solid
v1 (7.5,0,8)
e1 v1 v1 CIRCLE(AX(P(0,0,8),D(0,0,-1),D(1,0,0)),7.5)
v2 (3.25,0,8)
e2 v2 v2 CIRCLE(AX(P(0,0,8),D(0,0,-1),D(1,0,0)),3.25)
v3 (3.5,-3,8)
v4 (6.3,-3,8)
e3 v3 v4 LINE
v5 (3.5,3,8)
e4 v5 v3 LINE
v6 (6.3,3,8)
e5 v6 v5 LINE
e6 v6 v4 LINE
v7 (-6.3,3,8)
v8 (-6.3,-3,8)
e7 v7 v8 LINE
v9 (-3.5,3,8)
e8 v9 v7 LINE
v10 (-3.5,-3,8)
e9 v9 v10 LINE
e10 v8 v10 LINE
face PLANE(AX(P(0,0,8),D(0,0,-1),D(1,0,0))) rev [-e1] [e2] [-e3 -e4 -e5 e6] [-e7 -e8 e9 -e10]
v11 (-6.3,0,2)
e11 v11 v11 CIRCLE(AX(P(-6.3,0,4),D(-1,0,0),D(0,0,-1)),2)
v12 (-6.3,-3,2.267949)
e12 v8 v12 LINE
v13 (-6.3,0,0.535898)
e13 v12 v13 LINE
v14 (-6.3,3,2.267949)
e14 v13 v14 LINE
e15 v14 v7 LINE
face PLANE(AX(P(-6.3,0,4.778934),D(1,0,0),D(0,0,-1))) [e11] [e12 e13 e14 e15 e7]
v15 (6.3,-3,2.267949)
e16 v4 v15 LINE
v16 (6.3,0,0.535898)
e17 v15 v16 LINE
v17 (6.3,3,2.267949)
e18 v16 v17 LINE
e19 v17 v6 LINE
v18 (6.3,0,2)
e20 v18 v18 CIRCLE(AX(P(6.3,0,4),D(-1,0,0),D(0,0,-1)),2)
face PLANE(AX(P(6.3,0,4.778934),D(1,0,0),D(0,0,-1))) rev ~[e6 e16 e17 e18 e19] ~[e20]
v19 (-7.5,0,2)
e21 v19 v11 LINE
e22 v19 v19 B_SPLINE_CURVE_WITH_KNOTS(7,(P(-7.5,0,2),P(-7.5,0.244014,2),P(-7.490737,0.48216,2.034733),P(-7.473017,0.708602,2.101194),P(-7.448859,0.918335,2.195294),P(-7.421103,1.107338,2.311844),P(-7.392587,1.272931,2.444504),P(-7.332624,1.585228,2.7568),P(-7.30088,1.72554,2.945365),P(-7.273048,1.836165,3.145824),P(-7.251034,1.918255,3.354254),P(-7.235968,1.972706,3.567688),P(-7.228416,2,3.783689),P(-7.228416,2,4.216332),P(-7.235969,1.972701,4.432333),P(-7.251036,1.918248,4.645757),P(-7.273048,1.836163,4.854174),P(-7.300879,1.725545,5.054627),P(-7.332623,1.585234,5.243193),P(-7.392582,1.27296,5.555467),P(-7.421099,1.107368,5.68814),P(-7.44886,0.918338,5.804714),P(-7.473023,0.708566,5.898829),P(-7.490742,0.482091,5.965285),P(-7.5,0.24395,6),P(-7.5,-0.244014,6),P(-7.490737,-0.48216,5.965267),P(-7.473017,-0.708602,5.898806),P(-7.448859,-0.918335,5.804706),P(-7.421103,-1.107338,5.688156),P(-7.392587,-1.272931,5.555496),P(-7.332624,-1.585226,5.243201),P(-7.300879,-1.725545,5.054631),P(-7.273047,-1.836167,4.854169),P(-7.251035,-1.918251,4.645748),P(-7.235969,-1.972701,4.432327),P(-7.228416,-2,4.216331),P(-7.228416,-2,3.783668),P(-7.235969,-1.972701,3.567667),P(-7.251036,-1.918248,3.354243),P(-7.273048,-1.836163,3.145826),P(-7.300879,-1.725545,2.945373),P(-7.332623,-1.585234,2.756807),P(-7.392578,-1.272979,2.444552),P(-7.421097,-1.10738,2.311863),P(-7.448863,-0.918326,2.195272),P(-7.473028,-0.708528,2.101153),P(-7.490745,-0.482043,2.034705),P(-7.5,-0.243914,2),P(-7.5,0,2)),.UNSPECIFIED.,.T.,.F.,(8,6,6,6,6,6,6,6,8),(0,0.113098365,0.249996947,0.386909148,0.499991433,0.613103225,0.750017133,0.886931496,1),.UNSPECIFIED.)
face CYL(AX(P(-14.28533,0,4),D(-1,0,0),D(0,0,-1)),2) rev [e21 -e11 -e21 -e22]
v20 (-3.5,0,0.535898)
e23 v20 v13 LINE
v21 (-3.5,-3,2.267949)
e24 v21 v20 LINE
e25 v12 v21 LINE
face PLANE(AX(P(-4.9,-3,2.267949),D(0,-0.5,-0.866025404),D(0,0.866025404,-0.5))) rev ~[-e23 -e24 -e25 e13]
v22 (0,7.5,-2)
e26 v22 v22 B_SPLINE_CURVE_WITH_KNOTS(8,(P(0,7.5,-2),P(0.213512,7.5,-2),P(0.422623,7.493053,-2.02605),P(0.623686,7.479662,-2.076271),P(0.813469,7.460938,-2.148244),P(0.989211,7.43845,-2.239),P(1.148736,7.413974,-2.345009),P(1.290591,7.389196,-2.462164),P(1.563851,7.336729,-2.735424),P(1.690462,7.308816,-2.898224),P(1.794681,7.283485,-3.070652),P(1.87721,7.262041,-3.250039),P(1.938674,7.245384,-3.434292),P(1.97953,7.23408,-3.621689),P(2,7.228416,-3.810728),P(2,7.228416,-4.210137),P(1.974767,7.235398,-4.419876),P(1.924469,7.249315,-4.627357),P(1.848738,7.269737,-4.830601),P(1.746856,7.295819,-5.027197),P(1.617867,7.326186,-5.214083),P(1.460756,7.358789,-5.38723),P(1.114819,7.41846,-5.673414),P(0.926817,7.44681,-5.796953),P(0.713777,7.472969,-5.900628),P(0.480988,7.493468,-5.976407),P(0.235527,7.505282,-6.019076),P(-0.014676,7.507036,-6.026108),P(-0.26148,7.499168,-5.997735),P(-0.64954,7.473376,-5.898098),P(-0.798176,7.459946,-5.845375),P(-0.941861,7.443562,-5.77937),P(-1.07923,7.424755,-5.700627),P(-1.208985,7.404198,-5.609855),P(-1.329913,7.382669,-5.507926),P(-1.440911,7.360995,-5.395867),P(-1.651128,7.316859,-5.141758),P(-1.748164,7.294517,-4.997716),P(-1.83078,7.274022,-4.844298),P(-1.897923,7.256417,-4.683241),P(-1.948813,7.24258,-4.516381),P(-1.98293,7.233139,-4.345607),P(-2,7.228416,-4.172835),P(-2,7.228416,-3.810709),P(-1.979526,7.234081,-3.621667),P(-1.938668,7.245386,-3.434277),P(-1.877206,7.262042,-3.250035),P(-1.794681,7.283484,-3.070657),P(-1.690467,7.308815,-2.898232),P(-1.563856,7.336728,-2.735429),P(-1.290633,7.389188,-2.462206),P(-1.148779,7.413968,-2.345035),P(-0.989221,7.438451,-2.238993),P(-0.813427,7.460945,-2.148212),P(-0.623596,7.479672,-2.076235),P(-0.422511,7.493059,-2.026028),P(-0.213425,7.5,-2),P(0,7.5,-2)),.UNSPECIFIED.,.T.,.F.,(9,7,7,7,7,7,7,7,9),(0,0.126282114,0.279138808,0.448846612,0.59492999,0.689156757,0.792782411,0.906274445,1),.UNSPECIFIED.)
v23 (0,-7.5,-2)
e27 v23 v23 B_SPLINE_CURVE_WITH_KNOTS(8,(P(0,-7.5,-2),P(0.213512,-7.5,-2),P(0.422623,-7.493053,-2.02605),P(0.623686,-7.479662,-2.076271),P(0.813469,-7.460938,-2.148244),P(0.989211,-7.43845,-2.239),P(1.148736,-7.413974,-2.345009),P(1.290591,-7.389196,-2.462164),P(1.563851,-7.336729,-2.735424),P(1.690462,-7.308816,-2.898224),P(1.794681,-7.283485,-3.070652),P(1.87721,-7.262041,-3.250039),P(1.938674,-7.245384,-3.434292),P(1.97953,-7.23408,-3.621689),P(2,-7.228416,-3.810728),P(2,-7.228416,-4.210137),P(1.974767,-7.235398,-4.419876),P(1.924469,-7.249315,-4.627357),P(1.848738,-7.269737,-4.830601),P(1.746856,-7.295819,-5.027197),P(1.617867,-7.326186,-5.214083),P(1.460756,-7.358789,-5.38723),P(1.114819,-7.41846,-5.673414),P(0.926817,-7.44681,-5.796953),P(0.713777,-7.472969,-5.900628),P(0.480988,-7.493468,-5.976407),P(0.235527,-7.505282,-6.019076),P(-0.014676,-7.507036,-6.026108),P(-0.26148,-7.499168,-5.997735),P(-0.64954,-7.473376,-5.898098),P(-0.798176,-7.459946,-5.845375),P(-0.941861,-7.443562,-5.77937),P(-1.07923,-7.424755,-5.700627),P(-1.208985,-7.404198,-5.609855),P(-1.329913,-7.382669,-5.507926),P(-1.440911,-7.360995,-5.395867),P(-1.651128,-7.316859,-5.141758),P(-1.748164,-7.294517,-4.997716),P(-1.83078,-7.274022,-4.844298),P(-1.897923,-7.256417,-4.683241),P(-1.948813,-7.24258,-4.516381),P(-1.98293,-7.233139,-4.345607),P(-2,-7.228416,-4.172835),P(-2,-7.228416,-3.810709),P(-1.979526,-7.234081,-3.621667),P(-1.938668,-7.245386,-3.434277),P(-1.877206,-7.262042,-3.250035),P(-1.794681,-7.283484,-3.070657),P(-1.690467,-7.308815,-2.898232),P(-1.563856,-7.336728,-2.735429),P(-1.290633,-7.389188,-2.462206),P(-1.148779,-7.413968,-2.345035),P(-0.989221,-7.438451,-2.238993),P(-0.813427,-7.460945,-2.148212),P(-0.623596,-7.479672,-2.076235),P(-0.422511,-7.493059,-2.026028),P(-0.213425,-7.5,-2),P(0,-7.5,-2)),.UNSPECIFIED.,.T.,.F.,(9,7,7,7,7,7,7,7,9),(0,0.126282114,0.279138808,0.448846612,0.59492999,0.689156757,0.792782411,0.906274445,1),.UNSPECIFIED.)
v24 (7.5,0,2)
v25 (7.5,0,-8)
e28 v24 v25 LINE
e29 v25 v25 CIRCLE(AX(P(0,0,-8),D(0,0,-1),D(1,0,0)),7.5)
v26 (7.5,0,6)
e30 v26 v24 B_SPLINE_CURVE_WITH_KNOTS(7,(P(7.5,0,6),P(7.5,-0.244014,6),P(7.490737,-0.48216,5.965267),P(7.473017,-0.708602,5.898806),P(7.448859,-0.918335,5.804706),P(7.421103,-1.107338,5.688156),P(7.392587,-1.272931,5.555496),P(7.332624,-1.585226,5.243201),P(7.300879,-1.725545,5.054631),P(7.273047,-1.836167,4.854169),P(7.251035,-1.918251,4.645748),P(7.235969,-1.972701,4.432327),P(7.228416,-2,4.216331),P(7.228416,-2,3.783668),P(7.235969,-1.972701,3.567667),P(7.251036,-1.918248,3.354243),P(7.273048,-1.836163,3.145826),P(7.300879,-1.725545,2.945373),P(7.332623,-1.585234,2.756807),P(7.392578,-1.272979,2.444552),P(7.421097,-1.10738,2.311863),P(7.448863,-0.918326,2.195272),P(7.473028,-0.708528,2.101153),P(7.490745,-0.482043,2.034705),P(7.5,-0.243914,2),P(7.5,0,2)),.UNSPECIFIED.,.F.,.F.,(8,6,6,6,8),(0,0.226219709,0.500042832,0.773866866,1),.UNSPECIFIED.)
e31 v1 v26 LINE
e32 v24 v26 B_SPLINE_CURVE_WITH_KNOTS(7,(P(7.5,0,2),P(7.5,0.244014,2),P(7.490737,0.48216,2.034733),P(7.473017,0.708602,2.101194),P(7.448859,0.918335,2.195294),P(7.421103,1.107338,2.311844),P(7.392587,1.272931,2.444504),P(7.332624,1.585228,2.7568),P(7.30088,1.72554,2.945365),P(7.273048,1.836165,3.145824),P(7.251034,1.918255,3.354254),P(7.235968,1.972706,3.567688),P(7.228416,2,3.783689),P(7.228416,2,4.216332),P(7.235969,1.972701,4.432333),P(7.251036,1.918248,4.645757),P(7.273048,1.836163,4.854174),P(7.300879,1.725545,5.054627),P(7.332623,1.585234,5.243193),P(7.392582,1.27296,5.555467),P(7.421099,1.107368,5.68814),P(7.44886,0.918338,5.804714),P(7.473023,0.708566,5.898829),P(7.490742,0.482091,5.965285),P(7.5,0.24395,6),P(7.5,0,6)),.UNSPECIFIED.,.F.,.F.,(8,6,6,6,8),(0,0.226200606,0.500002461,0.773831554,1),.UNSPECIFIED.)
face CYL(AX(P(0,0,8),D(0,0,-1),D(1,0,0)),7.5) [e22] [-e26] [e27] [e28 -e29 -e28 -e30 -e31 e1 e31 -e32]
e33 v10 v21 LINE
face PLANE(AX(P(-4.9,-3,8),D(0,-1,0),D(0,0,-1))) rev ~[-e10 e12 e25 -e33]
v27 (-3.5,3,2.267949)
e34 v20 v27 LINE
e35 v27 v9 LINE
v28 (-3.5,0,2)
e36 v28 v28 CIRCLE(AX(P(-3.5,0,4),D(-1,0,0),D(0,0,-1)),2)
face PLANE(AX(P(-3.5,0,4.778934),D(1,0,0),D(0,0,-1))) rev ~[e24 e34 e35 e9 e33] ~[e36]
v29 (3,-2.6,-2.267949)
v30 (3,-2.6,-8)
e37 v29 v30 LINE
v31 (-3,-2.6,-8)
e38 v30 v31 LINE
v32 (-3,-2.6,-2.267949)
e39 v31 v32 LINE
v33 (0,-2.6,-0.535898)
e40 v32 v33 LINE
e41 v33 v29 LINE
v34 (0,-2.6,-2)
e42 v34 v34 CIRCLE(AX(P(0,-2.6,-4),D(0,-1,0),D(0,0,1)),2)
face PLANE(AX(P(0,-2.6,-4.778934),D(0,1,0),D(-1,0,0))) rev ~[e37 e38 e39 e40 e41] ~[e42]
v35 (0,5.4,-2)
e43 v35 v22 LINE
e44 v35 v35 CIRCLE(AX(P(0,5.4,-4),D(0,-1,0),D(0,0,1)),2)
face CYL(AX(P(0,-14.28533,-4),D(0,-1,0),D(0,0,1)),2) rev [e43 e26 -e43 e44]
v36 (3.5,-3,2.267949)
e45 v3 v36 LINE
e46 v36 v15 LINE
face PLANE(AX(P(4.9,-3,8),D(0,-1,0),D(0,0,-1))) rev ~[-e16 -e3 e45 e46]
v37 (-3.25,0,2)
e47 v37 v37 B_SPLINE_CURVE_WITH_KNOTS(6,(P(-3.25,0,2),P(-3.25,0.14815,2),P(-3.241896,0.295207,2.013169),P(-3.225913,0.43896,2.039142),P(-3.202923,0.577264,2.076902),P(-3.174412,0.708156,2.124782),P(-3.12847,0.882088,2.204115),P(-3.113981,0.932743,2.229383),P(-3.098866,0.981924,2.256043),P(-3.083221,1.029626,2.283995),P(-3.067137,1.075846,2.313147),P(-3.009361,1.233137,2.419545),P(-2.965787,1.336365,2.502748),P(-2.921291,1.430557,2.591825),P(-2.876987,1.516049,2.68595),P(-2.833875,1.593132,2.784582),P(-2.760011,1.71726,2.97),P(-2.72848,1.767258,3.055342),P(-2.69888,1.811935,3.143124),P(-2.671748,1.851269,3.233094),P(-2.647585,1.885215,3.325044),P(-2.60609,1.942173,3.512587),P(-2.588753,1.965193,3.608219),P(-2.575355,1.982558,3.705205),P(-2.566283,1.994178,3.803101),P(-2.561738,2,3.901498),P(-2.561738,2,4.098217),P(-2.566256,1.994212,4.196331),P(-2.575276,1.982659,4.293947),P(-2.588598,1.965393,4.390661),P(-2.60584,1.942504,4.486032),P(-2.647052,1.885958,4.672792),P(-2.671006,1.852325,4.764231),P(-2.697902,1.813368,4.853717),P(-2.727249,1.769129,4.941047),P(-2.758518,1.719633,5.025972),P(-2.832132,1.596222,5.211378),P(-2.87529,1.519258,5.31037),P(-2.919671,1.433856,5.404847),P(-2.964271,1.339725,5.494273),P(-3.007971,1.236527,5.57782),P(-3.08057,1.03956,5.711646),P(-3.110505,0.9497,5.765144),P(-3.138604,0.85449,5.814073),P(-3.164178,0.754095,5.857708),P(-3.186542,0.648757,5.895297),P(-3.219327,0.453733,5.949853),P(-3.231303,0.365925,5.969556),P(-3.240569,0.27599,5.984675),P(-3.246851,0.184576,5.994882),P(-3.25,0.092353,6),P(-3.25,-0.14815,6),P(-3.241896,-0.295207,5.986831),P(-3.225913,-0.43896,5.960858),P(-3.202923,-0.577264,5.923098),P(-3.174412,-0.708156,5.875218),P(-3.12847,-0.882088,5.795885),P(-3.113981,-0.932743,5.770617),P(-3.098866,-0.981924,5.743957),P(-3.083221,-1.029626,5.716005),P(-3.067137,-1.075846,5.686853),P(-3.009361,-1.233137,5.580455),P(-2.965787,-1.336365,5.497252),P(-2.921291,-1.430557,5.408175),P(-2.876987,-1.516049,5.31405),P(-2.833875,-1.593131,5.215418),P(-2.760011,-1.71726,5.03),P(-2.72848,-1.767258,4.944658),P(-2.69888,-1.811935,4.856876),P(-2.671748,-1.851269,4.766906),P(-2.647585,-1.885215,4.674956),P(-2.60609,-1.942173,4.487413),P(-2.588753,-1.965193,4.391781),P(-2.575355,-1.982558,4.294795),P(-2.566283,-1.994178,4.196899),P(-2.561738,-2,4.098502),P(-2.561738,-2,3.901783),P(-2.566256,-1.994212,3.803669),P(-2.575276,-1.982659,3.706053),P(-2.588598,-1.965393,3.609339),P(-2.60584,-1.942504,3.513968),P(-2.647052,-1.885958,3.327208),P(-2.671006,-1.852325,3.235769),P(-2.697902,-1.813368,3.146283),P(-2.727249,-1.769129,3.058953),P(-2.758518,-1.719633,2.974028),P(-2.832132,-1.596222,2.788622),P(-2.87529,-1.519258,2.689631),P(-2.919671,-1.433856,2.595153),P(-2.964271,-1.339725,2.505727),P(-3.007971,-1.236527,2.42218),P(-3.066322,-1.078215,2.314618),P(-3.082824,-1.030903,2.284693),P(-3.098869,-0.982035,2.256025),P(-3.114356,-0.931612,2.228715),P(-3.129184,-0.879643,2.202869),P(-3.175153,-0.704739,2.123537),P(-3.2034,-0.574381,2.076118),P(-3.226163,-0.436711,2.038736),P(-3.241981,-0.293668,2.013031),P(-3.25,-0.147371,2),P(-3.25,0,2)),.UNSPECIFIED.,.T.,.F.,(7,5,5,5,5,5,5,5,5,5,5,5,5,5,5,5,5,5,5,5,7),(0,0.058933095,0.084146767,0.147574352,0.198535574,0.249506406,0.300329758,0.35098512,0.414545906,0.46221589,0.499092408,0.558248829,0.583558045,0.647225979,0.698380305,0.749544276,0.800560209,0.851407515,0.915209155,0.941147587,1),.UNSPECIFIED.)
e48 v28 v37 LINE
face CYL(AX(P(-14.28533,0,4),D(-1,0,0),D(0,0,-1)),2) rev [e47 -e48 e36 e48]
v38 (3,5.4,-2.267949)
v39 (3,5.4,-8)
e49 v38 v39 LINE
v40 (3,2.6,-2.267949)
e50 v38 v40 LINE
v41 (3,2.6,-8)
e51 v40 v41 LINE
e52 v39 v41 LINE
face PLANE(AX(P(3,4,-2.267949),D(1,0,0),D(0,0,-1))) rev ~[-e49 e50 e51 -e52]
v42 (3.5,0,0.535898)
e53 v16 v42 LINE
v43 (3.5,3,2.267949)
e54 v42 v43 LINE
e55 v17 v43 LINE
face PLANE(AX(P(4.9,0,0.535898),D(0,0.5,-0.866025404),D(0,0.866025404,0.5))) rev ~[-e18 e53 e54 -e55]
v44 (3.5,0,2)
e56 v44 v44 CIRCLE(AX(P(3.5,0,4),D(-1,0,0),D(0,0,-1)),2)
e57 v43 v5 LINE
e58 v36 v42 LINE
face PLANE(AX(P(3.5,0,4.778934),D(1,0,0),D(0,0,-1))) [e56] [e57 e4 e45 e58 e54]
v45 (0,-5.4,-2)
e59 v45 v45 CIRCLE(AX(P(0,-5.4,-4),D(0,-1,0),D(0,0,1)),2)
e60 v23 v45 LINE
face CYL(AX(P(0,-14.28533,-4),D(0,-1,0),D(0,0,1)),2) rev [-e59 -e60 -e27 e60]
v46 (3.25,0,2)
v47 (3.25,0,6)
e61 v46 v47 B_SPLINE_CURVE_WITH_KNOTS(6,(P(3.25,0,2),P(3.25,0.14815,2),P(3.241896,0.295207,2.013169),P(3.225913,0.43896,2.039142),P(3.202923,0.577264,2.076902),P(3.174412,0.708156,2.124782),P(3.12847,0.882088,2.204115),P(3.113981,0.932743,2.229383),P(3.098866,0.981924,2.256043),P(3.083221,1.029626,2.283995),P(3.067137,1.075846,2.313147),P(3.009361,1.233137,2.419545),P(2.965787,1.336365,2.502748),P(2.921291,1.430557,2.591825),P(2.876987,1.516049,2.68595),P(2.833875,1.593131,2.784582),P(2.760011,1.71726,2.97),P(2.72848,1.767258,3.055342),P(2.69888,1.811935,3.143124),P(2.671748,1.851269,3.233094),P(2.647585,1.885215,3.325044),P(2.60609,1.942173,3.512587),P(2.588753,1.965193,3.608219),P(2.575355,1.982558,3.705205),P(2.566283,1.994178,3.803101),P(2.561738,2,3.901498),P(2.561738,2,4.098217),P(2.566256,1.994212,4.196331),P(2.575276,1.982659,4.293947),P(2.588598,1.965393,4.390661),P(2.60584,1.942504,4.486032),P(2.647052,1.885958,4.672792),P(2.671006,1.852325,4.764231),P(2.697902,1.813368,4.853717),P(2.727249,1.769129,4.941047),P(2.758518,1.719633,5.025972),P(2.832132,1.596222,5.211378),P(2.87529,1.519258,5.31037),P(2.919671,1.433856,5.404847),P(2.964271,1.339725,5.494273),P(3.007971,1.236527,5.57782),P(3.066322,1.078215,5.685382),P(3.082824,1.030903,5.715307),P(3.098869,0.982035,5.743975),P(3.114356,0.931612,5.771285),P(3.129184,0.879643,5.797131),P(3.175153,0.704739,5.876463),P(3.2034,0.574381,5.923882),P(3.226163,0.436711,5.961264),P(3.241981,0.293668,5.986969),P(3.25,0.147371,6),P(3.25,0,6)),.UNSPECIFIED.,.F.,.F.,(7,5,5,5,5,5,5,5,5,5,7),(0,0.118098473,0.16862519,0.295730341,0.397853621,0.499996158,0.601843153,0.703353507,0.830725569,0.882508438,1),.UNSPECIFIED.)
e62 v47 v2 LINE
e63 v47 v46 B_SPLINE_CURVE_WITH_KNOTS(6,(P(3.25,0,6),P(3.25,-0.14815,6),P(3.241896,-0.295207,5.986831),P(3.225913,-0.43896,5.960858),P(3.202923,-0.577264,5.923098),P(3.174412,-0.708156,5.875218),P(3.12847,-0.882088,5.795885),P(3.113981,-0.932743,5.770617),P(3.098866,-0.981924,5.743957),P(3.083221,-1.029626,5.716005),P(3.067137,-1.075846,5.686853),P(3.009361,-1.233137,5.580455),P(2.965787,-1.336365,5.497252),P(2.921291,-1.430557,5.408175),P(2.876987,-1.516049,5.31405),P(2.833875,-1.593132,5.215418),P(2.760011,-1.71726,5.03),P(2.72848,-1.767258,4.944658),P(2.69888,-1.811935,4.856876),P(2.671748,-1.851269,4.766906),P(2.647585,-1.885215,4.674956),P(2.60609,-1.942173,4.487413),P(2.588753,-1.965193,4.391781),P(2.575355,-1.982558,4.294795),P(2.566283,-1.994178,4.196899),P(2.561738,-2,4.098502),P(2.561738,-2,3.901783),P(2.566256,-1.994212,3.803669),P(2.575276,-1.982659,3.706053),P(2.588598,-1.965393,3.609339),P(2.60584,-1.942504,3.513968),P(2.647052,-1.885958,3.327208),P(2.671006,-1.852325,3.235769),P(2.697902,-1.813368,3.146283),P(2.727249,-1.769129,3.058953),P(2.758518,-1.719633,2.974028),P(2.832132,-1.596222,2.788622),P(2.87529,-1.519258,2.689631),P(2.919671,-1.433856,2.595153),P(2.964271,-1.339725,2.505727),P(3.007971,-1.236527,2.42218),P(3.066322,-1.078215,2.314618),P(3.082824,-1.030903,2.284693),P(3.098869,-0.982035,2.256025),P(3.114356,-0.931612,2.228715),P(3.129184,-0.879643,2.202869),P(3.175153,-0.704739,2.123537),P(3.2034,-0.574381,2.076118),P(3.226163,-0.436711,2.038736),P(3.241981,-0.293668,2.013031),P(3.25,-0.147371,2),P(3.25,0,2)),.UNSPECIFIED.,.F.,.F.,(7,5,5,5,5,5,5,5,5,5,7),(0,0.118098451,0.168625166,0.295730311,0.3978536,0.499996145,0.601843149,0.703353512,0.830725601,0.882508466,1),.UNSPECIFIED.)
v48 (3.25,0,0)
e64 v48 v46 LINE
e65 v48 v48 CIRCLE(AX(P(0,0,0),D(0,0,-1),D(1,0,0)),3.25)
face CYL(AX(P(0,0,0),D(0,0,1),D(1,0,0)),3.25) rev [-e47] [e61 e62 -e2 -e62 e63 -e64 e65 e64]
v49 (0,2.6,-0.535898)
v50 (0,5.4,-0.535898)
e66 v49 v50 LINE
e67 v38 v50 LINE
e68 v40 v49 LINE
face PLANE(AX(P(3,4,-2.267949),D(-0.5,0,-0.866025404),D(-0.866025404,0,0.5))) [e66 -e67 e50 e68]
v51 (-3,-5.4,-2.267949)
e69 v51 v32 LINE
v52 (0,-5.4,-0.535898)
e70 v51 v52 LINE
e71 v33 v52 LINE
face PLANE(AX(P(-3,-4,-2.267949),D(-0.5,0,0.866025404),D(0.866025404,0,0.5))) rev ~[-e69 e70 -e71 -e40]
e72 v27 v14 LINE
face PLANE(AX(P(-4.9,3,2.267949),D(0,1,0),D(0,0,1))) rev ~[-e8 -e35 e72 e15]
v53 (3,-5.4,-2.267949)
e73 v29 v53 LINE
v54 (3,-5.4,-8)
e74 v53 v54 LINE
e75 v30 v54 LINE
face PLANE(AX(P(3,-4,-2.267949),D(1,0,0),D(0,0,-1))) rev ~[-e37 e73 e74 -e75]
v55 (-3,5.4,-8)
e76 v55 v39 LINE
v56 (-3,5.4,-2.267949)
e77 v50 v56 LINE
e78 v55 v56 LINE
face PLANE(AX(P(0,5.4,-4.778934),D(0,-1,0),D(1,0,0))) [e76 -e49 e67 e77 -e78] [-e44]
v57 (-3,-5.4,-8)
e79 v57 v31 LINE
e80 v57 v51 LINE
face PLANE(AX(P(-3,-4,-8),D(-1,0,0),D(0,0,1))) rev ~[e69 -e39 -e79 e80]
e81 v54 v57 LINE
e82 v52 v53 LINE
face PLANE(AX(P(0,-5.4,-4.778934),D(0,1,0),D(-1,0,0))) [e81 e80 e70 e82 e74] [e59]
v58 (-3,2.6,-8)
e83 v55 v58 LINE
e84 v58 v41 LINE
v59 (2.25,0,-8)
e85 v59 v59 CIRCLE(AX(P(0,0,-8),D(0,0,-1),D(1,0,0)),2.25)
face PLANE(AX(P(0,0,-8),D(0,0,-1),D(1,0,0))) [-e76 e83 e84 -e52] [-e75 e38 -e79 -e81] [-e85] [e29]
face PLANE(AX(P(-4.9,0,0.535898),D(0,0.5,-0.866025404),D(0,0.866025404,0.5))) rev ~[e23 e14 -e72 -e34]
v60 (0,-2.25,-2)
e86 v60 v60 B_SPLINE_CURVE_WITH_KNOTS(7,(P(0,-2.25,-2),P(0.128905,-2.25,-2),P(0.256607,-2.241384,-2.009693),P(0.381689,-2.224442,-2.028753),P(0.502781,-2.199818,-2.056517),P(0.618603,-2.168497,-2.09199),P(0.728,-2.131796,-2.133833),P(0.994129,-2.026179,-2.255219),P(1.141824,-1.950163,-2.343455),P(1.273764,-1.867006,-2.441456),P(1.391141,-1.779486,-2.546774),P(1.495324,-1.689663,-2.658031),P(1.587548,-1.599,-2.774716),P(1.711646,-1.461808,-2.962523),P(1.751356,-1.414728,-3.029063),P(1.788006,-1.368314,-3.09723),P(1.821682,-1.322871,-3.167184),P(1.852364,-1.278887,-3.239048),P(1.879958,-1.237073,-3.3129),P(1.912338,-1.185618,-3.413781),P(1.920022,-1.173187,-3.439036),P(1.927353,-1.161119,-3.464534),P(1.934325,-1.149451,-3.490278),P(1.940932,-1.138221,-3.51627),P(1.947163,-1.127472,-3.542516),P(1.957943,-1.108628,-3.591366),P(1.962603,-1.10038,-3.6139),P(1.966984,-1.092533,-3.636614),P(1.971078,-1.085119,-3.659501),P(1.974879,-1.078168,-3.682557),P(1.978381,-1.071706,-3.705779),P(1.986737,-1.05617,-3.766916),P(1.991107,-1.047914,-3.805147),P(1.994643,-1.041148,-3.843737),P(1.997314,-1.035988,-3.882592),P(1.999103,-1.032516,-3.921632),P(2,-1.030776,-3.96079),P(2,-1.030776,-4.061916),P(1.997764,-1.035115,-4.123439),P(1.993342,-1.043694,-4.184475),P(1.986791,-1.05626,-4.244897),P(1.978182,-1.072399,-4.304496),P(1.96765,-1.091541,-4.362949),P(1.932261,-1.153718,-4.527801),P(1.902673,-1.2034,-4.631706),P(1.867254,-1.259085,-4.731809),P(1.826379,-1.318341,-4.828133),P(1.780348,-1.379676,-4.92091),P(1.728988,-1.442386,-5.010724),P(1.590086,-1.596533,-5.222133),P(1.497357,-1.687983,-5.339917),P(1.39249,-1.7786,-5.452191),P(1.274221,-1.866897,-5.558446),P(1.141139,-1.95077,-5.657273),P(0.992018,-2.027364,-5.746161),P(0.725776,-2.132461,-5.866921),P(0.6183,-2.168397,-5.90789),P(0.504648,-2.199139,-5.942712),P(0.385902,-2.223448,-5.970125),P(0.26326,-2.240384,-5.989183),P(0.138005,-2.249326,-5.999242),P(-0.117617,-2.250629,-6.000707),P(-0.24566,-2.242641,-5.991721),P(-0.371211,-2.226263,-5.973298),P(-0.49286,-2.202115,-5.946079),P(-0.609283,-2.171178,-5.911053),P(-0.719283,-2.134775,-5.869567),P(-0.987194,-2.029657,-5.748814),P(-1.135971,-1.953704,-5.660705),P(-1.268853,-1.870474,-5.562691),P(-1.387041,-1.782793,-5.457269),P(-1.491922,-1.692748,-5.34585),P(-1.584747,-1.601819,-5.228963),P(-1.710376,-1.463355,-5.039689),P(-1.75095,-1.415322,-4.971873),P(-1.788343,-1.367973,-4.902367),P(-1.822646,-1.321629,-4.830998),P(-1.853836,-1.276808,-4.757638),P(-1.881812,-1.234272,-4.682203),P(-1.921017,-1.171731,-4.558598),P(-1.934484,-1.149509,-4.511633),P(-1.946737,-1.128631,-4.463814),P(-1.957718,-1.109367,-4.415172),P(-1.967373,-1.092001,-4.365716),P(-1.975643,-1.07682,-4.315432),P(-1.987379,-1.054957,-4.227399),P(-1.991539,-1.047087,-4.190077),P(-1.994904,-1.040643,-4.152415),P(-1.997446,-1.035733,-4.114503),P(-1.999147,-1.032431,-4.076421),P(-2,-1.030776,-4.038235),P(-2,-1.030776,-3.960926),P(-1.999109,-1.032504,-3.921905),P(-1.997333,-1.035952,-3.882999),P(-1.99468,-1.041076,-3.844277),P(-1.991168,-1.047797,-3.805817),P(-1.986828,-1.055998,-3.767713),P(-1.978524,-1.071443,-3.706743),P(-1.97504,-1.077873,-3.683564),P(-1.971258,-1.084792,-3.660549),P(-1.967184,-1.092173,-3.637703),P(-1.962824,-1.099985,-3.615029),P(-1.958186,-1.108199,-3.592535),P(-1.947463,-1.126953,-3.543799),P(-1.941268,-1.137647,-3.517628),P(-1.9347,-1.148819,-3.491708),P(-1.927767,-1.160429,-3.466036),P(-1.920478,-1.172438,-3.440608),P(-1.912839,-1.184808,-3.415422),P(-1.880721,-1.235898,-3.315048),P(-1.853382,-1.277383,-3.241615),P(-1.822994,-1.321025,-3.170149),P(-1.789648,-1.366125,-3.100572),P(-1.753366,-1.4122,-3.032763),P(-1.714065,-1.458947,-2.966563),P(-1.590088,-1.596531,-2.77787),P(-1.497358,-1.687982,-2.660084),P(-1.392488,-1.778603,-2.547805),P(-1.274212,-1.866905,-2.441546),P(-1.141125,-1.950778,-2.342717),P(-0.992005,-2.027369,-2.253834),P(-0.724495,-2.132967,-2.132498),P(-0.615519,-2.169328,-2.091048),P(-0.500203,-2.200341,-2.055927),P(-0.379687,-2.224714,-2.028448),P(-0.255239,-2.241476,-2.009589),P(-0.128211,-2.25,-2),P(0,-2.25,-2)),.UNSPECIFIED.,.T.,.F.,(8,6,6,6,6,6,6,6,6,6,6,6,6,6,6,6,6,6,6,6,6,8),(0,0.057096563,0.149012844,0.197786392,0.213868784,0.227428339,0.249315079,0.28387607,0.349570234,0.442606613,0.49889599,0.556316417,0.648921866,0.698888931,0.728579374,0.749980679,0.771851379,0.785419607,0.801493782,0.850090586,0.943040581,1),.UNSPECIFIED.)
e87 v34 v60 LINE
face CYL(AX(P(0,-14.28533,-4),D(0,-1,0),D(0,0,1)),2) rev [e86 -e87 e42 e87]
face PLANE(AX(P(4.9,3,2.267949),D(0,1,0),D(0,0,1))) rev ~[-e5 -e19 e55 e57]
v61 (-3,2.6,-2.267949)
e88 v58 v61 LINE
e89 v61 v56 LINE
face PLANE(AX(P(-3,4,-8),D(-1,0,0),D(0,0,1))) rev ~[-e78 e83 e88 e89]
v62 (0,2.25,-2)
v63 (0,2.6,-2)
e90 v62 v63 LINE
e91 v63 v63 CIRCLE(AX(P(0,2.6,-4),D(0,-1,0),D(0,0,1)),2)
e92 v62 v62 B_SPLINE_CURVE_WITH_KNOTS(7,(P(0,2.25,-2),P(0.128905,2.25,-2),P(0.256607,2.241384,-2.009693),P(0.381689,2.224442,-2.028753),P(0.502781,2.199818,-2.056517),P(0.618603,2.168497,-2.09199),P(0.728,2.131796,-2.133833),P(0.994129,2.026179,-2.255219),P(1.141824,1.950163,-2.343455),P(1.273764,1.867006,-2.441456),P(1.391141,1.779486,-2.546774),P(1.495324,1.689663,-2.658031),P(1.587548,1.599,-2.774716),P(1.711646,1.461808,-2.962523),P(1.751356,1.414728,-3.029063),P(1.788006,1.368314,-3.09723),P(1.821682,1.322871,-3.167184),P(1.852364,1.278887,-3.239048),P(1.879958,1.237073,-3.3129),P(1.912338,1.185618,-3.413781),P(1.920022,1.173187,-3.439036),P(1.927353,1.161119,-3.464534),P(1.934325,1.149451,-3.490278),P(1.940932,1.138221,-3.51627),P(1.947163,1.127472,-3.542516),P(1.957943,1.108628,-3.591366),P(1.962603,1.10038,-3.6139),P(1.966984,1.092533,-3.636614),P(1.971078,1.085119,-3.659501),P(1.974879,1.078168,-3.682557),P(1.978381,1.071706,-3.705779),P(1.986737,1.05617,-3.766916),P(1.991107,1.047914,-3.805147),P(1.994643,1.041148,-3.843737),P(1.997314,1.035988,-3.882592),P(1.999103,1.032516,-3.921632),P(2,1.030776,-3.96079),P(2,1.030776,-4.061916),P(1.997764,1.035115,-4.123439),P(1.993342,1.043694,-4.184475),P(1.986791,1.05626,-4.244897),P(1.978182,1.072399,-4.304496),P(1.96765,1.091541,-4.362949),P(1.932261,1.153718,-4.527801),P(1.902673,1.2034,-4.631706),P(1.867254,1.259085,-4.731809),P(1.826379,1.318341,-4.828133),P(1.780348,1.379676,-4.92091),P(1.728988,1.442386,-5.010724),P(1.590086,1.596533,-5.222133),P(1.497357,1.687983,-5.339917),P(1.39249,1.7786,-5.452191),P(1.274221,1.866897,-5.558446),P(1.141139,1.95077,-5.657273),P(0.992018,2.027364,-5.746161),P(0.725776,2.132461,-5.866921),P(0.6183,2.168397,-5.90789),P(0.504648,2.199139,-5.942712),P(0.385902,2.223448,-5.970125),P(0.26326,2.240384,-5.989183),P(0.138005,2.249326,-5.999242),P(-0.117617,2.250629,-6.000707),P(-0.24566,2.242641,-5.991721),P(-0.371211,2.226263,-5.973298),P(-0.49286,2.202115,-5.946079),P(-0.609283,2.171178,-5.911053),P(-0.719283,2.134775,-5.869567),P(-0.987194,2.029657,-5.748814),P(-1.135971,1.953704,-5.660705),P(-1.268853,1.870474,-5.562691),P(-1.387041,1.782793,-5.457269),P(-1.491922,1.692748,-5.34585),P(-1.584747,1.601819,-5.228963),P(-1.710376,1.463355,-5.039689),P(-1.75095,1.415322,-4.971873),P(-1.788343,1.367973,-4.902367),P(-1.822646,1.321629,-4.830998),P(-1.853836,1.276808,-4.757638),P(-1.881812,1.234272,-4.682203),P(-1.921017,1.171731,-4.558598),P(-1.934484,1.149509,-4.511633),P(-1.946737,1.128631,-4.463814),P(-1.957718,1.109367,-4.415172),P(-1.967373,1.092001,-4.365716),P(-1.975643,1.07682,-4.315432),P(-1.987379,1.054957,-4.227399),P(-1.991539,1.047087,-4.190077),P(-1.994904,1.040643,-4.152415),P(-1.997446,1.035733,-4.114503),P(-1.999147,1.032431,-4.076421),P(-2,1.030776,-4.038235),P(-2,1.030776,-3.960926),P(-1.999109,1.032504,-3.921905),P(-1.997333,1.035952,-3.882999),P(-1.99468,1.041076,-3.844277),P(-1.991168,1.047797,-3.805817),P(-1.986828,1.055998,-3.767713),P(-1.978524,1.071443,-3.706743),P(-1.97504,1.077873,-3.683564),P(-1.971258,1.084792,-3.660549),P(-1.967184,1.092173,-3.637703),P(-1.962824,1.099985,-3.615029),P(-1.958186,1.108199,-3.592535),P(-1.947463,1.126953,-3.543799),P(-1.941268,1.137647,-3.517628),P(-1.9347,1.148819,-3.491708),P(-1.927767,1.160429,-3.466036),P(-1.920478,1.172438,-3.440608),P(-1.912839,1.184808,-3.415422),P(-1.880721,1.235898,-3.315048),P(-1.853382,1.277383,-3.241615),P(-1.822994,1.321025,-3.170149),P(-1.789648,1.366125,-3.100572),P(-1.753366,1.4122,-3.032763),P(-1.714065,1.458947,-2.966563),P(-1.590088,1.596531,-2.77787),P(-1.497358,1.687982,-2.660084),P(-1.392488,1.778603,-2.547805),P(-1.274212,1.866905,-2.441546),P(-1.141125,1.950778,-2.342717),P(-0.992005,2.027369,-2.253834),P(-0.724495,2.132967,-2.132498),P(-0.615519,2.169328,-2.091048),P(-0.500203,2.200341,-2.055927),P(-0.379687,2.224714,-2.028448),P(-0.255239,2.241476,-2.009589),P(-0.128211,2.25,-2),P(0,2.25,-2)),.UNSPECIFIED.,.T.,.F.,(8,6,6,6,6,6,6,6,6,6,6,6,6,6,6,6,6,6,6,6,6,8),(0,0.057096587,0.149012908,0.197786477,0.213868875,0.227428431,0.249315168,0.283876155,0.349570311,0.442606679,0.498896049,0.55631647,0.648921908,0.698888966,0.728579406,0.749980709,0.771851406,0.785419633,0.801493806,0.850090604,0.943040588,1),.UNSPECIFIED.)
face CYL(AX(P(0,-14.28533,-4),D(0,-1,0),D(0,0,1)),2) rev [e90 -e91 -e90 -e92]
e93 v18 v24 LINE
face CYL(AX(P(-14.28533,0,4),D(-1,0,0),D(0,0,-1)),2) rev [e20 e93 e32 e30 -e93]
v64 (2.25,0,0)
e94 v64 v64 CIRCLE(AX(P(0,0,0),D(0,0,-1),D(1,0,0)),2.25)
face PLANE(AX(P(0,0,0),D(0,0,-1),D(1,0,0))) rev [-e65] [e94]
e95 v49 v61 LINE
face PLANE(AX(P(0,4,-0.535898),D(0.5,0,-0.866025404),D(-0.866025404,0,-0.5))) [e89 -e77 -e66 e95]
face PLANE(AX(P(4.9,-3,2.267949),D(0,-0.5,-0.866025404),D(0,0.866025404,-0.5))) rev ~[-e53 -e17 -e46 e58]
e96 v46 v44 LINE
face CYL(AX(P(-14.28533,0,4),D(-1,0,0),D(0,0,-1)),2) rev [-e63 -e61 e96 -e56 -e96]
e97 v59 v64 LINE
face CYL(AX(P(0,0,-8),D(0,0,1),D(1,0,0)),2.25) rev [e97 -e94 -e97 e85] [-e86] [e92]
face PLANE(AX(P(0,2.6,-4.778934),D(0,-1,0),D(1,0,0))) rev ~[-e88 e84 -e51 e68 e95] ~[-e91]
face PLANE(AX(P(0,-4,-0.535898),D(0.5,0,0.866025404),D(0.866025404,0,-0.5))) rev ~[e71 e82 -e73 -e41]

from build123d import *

# Parameters (mm, degrees)
CUT_EXTRUDE1_DEPTH      = 14.285330256
CUT_EXTRUDE1_DEPTH_BACK = 14.285330256
SKETCH4_R               = 2
CUT_EXTRUDE2_DEPTH      = 14.285330429
CUT_EXTRUDE2_DEPTH_BACK = 14.285330429
SKETCH5_R               = 2
CUT_EXTRUDE3_DEPTH      = 1.4
CUT_EXTRUDE4_DEPTH      = 1.4
CUT_EXTRUDE5_DEPTH      = 1.4
CUT_EXTRUDE6_DEPTH      = 1.4


with BuildPart() as part:
    # Sketch2 → Revolve1 (revolve)
    with BuildSketch(Plane(origin=(0, 0, 0), x_dir=(0, 0, -1), z_dir=(1, 0, 0)), mode=Mode.PRIVATE) as revolve1_sk:
        Polygon((8, 2.25), (0, 2.25), (0, 3.25), (-8, 3.25), (-8, 7.5), (8, 7.5), align=None)
    revolve(revolve1_sk.sketch.rotate(Axis((0, 0, 33.32637001), (0, 0, -1)), 90), axis=Axis((0, 0, 33.32637001), (0, 0, -1)))

    # Sketch4 → Cut-Extrude1 (cut, two sides: drawn at the far end of the back side and taken through both)
    with BuildSketch(Plane(origin=(0, 0, 0), x_dir=(1, 0, 0), z_dir=(0, 1, 0)).offset(-CUT_EXTRUDE1_DEPTH_BACK)):
        with Locations(Location((0, 4, 0), (0, 0, 270))):
            Circle(SKETCH4_R)
    extrude(amount=CUT_EXTRUDE1_DEPTH + CUT_EXTRUDE1_DEPTH_BACK, mode=Mode.SUBTRACT)

    # Sketch5 → Cut-Extrude2 (cut, two sides: drawn at the far end of the back side and taken through both)
    with BuildSketch(Plane(origin=(0, 0, 0), x_dir=(0, 0, -1), z_dir=(1, 0, 0)).offset(-CUT_EXTRUDE2_DEPTH_BACK)):
        with Locations((-4, 0)):
            Circle(SKETCH5_R)
    extrude(amount=CUT_EXTRUDE2_DEPTH + CUT_EXTRUDE2_DEPTH_BACK, mode=Mode.SUBTRACT)

    # Sketch6 → Cut-Extrude3 (cut, symmetric)
    with BuildSketch(Plane(origin=(4.9, 0, 0), x_dir=(0, 0, -1), z_dir=(1, 0, 0))):
        Polygon((-5.732050808, 3), (-8, 3), (-8, -3), (-5.732050808, -3), (-2.267949192, -3), (-0.535898385, 0), (-2.267949192, 3), align=None)
    extrude(amount=CUT_EXTRUDE3_DEPTH, both=True, mode=Mode.SUBTRACT)

    # Sketch7 → Cut-Extrude4 (cut, symmetric)
    with BuildSketch(Plane(origin=(-4.9, 0, 0), x_dir=(0, 0, -1), z_dir=(1, 0, 0))):
        Polygon((-5.732050808, 3), (-8, 3), (-8, -3), (-5.732050808, -3), (-2.267949192, -3), (-0.535898385, 0), (-2.267949192, 3), align=None)
    extrude(amount=CUT_EXTRUDE4_DEPTH, both=True, mode=Mode.SUBTRACT)

    # Sketch8 → Cut-Extrude5 (cut, symmetric)
    with BuildSketch(Plane(origin=(0, 4, 0), x_dir=(-1, 0, 0), z_dir=(0, 1, 0))):
        Polygon((3, -5.732050808), (3, -8), (-3, -8), (-3, -5.732050808), (-3, -2.267949192), (0, -0.535898385), (3, -2.267949192), align=None)
    extrude(amount=CUT_EXTRUDE5_DEPTH, both=True, mode=Mode.SUBTRACT)

    # Sketch9 → Cut-Extrude6 (cut, symmetric)
    with BuildSketch(Plane(origin=(0, -4, 0), x_dir=(-1, 0, 0), z_dir=(0, 1, 0))):
        Polygon((-3, -5.732050808), (-3, -8), (3, -8), (3, -5.732050808), (3, -2.267949192), (0, -0.535898385), (-3, -2.267949192), align=None)
    extrude(amount=CUT_EXTRUDE6_DEPTH, both=True, mode=Mode.SUBTRACT)


solid = part.part
